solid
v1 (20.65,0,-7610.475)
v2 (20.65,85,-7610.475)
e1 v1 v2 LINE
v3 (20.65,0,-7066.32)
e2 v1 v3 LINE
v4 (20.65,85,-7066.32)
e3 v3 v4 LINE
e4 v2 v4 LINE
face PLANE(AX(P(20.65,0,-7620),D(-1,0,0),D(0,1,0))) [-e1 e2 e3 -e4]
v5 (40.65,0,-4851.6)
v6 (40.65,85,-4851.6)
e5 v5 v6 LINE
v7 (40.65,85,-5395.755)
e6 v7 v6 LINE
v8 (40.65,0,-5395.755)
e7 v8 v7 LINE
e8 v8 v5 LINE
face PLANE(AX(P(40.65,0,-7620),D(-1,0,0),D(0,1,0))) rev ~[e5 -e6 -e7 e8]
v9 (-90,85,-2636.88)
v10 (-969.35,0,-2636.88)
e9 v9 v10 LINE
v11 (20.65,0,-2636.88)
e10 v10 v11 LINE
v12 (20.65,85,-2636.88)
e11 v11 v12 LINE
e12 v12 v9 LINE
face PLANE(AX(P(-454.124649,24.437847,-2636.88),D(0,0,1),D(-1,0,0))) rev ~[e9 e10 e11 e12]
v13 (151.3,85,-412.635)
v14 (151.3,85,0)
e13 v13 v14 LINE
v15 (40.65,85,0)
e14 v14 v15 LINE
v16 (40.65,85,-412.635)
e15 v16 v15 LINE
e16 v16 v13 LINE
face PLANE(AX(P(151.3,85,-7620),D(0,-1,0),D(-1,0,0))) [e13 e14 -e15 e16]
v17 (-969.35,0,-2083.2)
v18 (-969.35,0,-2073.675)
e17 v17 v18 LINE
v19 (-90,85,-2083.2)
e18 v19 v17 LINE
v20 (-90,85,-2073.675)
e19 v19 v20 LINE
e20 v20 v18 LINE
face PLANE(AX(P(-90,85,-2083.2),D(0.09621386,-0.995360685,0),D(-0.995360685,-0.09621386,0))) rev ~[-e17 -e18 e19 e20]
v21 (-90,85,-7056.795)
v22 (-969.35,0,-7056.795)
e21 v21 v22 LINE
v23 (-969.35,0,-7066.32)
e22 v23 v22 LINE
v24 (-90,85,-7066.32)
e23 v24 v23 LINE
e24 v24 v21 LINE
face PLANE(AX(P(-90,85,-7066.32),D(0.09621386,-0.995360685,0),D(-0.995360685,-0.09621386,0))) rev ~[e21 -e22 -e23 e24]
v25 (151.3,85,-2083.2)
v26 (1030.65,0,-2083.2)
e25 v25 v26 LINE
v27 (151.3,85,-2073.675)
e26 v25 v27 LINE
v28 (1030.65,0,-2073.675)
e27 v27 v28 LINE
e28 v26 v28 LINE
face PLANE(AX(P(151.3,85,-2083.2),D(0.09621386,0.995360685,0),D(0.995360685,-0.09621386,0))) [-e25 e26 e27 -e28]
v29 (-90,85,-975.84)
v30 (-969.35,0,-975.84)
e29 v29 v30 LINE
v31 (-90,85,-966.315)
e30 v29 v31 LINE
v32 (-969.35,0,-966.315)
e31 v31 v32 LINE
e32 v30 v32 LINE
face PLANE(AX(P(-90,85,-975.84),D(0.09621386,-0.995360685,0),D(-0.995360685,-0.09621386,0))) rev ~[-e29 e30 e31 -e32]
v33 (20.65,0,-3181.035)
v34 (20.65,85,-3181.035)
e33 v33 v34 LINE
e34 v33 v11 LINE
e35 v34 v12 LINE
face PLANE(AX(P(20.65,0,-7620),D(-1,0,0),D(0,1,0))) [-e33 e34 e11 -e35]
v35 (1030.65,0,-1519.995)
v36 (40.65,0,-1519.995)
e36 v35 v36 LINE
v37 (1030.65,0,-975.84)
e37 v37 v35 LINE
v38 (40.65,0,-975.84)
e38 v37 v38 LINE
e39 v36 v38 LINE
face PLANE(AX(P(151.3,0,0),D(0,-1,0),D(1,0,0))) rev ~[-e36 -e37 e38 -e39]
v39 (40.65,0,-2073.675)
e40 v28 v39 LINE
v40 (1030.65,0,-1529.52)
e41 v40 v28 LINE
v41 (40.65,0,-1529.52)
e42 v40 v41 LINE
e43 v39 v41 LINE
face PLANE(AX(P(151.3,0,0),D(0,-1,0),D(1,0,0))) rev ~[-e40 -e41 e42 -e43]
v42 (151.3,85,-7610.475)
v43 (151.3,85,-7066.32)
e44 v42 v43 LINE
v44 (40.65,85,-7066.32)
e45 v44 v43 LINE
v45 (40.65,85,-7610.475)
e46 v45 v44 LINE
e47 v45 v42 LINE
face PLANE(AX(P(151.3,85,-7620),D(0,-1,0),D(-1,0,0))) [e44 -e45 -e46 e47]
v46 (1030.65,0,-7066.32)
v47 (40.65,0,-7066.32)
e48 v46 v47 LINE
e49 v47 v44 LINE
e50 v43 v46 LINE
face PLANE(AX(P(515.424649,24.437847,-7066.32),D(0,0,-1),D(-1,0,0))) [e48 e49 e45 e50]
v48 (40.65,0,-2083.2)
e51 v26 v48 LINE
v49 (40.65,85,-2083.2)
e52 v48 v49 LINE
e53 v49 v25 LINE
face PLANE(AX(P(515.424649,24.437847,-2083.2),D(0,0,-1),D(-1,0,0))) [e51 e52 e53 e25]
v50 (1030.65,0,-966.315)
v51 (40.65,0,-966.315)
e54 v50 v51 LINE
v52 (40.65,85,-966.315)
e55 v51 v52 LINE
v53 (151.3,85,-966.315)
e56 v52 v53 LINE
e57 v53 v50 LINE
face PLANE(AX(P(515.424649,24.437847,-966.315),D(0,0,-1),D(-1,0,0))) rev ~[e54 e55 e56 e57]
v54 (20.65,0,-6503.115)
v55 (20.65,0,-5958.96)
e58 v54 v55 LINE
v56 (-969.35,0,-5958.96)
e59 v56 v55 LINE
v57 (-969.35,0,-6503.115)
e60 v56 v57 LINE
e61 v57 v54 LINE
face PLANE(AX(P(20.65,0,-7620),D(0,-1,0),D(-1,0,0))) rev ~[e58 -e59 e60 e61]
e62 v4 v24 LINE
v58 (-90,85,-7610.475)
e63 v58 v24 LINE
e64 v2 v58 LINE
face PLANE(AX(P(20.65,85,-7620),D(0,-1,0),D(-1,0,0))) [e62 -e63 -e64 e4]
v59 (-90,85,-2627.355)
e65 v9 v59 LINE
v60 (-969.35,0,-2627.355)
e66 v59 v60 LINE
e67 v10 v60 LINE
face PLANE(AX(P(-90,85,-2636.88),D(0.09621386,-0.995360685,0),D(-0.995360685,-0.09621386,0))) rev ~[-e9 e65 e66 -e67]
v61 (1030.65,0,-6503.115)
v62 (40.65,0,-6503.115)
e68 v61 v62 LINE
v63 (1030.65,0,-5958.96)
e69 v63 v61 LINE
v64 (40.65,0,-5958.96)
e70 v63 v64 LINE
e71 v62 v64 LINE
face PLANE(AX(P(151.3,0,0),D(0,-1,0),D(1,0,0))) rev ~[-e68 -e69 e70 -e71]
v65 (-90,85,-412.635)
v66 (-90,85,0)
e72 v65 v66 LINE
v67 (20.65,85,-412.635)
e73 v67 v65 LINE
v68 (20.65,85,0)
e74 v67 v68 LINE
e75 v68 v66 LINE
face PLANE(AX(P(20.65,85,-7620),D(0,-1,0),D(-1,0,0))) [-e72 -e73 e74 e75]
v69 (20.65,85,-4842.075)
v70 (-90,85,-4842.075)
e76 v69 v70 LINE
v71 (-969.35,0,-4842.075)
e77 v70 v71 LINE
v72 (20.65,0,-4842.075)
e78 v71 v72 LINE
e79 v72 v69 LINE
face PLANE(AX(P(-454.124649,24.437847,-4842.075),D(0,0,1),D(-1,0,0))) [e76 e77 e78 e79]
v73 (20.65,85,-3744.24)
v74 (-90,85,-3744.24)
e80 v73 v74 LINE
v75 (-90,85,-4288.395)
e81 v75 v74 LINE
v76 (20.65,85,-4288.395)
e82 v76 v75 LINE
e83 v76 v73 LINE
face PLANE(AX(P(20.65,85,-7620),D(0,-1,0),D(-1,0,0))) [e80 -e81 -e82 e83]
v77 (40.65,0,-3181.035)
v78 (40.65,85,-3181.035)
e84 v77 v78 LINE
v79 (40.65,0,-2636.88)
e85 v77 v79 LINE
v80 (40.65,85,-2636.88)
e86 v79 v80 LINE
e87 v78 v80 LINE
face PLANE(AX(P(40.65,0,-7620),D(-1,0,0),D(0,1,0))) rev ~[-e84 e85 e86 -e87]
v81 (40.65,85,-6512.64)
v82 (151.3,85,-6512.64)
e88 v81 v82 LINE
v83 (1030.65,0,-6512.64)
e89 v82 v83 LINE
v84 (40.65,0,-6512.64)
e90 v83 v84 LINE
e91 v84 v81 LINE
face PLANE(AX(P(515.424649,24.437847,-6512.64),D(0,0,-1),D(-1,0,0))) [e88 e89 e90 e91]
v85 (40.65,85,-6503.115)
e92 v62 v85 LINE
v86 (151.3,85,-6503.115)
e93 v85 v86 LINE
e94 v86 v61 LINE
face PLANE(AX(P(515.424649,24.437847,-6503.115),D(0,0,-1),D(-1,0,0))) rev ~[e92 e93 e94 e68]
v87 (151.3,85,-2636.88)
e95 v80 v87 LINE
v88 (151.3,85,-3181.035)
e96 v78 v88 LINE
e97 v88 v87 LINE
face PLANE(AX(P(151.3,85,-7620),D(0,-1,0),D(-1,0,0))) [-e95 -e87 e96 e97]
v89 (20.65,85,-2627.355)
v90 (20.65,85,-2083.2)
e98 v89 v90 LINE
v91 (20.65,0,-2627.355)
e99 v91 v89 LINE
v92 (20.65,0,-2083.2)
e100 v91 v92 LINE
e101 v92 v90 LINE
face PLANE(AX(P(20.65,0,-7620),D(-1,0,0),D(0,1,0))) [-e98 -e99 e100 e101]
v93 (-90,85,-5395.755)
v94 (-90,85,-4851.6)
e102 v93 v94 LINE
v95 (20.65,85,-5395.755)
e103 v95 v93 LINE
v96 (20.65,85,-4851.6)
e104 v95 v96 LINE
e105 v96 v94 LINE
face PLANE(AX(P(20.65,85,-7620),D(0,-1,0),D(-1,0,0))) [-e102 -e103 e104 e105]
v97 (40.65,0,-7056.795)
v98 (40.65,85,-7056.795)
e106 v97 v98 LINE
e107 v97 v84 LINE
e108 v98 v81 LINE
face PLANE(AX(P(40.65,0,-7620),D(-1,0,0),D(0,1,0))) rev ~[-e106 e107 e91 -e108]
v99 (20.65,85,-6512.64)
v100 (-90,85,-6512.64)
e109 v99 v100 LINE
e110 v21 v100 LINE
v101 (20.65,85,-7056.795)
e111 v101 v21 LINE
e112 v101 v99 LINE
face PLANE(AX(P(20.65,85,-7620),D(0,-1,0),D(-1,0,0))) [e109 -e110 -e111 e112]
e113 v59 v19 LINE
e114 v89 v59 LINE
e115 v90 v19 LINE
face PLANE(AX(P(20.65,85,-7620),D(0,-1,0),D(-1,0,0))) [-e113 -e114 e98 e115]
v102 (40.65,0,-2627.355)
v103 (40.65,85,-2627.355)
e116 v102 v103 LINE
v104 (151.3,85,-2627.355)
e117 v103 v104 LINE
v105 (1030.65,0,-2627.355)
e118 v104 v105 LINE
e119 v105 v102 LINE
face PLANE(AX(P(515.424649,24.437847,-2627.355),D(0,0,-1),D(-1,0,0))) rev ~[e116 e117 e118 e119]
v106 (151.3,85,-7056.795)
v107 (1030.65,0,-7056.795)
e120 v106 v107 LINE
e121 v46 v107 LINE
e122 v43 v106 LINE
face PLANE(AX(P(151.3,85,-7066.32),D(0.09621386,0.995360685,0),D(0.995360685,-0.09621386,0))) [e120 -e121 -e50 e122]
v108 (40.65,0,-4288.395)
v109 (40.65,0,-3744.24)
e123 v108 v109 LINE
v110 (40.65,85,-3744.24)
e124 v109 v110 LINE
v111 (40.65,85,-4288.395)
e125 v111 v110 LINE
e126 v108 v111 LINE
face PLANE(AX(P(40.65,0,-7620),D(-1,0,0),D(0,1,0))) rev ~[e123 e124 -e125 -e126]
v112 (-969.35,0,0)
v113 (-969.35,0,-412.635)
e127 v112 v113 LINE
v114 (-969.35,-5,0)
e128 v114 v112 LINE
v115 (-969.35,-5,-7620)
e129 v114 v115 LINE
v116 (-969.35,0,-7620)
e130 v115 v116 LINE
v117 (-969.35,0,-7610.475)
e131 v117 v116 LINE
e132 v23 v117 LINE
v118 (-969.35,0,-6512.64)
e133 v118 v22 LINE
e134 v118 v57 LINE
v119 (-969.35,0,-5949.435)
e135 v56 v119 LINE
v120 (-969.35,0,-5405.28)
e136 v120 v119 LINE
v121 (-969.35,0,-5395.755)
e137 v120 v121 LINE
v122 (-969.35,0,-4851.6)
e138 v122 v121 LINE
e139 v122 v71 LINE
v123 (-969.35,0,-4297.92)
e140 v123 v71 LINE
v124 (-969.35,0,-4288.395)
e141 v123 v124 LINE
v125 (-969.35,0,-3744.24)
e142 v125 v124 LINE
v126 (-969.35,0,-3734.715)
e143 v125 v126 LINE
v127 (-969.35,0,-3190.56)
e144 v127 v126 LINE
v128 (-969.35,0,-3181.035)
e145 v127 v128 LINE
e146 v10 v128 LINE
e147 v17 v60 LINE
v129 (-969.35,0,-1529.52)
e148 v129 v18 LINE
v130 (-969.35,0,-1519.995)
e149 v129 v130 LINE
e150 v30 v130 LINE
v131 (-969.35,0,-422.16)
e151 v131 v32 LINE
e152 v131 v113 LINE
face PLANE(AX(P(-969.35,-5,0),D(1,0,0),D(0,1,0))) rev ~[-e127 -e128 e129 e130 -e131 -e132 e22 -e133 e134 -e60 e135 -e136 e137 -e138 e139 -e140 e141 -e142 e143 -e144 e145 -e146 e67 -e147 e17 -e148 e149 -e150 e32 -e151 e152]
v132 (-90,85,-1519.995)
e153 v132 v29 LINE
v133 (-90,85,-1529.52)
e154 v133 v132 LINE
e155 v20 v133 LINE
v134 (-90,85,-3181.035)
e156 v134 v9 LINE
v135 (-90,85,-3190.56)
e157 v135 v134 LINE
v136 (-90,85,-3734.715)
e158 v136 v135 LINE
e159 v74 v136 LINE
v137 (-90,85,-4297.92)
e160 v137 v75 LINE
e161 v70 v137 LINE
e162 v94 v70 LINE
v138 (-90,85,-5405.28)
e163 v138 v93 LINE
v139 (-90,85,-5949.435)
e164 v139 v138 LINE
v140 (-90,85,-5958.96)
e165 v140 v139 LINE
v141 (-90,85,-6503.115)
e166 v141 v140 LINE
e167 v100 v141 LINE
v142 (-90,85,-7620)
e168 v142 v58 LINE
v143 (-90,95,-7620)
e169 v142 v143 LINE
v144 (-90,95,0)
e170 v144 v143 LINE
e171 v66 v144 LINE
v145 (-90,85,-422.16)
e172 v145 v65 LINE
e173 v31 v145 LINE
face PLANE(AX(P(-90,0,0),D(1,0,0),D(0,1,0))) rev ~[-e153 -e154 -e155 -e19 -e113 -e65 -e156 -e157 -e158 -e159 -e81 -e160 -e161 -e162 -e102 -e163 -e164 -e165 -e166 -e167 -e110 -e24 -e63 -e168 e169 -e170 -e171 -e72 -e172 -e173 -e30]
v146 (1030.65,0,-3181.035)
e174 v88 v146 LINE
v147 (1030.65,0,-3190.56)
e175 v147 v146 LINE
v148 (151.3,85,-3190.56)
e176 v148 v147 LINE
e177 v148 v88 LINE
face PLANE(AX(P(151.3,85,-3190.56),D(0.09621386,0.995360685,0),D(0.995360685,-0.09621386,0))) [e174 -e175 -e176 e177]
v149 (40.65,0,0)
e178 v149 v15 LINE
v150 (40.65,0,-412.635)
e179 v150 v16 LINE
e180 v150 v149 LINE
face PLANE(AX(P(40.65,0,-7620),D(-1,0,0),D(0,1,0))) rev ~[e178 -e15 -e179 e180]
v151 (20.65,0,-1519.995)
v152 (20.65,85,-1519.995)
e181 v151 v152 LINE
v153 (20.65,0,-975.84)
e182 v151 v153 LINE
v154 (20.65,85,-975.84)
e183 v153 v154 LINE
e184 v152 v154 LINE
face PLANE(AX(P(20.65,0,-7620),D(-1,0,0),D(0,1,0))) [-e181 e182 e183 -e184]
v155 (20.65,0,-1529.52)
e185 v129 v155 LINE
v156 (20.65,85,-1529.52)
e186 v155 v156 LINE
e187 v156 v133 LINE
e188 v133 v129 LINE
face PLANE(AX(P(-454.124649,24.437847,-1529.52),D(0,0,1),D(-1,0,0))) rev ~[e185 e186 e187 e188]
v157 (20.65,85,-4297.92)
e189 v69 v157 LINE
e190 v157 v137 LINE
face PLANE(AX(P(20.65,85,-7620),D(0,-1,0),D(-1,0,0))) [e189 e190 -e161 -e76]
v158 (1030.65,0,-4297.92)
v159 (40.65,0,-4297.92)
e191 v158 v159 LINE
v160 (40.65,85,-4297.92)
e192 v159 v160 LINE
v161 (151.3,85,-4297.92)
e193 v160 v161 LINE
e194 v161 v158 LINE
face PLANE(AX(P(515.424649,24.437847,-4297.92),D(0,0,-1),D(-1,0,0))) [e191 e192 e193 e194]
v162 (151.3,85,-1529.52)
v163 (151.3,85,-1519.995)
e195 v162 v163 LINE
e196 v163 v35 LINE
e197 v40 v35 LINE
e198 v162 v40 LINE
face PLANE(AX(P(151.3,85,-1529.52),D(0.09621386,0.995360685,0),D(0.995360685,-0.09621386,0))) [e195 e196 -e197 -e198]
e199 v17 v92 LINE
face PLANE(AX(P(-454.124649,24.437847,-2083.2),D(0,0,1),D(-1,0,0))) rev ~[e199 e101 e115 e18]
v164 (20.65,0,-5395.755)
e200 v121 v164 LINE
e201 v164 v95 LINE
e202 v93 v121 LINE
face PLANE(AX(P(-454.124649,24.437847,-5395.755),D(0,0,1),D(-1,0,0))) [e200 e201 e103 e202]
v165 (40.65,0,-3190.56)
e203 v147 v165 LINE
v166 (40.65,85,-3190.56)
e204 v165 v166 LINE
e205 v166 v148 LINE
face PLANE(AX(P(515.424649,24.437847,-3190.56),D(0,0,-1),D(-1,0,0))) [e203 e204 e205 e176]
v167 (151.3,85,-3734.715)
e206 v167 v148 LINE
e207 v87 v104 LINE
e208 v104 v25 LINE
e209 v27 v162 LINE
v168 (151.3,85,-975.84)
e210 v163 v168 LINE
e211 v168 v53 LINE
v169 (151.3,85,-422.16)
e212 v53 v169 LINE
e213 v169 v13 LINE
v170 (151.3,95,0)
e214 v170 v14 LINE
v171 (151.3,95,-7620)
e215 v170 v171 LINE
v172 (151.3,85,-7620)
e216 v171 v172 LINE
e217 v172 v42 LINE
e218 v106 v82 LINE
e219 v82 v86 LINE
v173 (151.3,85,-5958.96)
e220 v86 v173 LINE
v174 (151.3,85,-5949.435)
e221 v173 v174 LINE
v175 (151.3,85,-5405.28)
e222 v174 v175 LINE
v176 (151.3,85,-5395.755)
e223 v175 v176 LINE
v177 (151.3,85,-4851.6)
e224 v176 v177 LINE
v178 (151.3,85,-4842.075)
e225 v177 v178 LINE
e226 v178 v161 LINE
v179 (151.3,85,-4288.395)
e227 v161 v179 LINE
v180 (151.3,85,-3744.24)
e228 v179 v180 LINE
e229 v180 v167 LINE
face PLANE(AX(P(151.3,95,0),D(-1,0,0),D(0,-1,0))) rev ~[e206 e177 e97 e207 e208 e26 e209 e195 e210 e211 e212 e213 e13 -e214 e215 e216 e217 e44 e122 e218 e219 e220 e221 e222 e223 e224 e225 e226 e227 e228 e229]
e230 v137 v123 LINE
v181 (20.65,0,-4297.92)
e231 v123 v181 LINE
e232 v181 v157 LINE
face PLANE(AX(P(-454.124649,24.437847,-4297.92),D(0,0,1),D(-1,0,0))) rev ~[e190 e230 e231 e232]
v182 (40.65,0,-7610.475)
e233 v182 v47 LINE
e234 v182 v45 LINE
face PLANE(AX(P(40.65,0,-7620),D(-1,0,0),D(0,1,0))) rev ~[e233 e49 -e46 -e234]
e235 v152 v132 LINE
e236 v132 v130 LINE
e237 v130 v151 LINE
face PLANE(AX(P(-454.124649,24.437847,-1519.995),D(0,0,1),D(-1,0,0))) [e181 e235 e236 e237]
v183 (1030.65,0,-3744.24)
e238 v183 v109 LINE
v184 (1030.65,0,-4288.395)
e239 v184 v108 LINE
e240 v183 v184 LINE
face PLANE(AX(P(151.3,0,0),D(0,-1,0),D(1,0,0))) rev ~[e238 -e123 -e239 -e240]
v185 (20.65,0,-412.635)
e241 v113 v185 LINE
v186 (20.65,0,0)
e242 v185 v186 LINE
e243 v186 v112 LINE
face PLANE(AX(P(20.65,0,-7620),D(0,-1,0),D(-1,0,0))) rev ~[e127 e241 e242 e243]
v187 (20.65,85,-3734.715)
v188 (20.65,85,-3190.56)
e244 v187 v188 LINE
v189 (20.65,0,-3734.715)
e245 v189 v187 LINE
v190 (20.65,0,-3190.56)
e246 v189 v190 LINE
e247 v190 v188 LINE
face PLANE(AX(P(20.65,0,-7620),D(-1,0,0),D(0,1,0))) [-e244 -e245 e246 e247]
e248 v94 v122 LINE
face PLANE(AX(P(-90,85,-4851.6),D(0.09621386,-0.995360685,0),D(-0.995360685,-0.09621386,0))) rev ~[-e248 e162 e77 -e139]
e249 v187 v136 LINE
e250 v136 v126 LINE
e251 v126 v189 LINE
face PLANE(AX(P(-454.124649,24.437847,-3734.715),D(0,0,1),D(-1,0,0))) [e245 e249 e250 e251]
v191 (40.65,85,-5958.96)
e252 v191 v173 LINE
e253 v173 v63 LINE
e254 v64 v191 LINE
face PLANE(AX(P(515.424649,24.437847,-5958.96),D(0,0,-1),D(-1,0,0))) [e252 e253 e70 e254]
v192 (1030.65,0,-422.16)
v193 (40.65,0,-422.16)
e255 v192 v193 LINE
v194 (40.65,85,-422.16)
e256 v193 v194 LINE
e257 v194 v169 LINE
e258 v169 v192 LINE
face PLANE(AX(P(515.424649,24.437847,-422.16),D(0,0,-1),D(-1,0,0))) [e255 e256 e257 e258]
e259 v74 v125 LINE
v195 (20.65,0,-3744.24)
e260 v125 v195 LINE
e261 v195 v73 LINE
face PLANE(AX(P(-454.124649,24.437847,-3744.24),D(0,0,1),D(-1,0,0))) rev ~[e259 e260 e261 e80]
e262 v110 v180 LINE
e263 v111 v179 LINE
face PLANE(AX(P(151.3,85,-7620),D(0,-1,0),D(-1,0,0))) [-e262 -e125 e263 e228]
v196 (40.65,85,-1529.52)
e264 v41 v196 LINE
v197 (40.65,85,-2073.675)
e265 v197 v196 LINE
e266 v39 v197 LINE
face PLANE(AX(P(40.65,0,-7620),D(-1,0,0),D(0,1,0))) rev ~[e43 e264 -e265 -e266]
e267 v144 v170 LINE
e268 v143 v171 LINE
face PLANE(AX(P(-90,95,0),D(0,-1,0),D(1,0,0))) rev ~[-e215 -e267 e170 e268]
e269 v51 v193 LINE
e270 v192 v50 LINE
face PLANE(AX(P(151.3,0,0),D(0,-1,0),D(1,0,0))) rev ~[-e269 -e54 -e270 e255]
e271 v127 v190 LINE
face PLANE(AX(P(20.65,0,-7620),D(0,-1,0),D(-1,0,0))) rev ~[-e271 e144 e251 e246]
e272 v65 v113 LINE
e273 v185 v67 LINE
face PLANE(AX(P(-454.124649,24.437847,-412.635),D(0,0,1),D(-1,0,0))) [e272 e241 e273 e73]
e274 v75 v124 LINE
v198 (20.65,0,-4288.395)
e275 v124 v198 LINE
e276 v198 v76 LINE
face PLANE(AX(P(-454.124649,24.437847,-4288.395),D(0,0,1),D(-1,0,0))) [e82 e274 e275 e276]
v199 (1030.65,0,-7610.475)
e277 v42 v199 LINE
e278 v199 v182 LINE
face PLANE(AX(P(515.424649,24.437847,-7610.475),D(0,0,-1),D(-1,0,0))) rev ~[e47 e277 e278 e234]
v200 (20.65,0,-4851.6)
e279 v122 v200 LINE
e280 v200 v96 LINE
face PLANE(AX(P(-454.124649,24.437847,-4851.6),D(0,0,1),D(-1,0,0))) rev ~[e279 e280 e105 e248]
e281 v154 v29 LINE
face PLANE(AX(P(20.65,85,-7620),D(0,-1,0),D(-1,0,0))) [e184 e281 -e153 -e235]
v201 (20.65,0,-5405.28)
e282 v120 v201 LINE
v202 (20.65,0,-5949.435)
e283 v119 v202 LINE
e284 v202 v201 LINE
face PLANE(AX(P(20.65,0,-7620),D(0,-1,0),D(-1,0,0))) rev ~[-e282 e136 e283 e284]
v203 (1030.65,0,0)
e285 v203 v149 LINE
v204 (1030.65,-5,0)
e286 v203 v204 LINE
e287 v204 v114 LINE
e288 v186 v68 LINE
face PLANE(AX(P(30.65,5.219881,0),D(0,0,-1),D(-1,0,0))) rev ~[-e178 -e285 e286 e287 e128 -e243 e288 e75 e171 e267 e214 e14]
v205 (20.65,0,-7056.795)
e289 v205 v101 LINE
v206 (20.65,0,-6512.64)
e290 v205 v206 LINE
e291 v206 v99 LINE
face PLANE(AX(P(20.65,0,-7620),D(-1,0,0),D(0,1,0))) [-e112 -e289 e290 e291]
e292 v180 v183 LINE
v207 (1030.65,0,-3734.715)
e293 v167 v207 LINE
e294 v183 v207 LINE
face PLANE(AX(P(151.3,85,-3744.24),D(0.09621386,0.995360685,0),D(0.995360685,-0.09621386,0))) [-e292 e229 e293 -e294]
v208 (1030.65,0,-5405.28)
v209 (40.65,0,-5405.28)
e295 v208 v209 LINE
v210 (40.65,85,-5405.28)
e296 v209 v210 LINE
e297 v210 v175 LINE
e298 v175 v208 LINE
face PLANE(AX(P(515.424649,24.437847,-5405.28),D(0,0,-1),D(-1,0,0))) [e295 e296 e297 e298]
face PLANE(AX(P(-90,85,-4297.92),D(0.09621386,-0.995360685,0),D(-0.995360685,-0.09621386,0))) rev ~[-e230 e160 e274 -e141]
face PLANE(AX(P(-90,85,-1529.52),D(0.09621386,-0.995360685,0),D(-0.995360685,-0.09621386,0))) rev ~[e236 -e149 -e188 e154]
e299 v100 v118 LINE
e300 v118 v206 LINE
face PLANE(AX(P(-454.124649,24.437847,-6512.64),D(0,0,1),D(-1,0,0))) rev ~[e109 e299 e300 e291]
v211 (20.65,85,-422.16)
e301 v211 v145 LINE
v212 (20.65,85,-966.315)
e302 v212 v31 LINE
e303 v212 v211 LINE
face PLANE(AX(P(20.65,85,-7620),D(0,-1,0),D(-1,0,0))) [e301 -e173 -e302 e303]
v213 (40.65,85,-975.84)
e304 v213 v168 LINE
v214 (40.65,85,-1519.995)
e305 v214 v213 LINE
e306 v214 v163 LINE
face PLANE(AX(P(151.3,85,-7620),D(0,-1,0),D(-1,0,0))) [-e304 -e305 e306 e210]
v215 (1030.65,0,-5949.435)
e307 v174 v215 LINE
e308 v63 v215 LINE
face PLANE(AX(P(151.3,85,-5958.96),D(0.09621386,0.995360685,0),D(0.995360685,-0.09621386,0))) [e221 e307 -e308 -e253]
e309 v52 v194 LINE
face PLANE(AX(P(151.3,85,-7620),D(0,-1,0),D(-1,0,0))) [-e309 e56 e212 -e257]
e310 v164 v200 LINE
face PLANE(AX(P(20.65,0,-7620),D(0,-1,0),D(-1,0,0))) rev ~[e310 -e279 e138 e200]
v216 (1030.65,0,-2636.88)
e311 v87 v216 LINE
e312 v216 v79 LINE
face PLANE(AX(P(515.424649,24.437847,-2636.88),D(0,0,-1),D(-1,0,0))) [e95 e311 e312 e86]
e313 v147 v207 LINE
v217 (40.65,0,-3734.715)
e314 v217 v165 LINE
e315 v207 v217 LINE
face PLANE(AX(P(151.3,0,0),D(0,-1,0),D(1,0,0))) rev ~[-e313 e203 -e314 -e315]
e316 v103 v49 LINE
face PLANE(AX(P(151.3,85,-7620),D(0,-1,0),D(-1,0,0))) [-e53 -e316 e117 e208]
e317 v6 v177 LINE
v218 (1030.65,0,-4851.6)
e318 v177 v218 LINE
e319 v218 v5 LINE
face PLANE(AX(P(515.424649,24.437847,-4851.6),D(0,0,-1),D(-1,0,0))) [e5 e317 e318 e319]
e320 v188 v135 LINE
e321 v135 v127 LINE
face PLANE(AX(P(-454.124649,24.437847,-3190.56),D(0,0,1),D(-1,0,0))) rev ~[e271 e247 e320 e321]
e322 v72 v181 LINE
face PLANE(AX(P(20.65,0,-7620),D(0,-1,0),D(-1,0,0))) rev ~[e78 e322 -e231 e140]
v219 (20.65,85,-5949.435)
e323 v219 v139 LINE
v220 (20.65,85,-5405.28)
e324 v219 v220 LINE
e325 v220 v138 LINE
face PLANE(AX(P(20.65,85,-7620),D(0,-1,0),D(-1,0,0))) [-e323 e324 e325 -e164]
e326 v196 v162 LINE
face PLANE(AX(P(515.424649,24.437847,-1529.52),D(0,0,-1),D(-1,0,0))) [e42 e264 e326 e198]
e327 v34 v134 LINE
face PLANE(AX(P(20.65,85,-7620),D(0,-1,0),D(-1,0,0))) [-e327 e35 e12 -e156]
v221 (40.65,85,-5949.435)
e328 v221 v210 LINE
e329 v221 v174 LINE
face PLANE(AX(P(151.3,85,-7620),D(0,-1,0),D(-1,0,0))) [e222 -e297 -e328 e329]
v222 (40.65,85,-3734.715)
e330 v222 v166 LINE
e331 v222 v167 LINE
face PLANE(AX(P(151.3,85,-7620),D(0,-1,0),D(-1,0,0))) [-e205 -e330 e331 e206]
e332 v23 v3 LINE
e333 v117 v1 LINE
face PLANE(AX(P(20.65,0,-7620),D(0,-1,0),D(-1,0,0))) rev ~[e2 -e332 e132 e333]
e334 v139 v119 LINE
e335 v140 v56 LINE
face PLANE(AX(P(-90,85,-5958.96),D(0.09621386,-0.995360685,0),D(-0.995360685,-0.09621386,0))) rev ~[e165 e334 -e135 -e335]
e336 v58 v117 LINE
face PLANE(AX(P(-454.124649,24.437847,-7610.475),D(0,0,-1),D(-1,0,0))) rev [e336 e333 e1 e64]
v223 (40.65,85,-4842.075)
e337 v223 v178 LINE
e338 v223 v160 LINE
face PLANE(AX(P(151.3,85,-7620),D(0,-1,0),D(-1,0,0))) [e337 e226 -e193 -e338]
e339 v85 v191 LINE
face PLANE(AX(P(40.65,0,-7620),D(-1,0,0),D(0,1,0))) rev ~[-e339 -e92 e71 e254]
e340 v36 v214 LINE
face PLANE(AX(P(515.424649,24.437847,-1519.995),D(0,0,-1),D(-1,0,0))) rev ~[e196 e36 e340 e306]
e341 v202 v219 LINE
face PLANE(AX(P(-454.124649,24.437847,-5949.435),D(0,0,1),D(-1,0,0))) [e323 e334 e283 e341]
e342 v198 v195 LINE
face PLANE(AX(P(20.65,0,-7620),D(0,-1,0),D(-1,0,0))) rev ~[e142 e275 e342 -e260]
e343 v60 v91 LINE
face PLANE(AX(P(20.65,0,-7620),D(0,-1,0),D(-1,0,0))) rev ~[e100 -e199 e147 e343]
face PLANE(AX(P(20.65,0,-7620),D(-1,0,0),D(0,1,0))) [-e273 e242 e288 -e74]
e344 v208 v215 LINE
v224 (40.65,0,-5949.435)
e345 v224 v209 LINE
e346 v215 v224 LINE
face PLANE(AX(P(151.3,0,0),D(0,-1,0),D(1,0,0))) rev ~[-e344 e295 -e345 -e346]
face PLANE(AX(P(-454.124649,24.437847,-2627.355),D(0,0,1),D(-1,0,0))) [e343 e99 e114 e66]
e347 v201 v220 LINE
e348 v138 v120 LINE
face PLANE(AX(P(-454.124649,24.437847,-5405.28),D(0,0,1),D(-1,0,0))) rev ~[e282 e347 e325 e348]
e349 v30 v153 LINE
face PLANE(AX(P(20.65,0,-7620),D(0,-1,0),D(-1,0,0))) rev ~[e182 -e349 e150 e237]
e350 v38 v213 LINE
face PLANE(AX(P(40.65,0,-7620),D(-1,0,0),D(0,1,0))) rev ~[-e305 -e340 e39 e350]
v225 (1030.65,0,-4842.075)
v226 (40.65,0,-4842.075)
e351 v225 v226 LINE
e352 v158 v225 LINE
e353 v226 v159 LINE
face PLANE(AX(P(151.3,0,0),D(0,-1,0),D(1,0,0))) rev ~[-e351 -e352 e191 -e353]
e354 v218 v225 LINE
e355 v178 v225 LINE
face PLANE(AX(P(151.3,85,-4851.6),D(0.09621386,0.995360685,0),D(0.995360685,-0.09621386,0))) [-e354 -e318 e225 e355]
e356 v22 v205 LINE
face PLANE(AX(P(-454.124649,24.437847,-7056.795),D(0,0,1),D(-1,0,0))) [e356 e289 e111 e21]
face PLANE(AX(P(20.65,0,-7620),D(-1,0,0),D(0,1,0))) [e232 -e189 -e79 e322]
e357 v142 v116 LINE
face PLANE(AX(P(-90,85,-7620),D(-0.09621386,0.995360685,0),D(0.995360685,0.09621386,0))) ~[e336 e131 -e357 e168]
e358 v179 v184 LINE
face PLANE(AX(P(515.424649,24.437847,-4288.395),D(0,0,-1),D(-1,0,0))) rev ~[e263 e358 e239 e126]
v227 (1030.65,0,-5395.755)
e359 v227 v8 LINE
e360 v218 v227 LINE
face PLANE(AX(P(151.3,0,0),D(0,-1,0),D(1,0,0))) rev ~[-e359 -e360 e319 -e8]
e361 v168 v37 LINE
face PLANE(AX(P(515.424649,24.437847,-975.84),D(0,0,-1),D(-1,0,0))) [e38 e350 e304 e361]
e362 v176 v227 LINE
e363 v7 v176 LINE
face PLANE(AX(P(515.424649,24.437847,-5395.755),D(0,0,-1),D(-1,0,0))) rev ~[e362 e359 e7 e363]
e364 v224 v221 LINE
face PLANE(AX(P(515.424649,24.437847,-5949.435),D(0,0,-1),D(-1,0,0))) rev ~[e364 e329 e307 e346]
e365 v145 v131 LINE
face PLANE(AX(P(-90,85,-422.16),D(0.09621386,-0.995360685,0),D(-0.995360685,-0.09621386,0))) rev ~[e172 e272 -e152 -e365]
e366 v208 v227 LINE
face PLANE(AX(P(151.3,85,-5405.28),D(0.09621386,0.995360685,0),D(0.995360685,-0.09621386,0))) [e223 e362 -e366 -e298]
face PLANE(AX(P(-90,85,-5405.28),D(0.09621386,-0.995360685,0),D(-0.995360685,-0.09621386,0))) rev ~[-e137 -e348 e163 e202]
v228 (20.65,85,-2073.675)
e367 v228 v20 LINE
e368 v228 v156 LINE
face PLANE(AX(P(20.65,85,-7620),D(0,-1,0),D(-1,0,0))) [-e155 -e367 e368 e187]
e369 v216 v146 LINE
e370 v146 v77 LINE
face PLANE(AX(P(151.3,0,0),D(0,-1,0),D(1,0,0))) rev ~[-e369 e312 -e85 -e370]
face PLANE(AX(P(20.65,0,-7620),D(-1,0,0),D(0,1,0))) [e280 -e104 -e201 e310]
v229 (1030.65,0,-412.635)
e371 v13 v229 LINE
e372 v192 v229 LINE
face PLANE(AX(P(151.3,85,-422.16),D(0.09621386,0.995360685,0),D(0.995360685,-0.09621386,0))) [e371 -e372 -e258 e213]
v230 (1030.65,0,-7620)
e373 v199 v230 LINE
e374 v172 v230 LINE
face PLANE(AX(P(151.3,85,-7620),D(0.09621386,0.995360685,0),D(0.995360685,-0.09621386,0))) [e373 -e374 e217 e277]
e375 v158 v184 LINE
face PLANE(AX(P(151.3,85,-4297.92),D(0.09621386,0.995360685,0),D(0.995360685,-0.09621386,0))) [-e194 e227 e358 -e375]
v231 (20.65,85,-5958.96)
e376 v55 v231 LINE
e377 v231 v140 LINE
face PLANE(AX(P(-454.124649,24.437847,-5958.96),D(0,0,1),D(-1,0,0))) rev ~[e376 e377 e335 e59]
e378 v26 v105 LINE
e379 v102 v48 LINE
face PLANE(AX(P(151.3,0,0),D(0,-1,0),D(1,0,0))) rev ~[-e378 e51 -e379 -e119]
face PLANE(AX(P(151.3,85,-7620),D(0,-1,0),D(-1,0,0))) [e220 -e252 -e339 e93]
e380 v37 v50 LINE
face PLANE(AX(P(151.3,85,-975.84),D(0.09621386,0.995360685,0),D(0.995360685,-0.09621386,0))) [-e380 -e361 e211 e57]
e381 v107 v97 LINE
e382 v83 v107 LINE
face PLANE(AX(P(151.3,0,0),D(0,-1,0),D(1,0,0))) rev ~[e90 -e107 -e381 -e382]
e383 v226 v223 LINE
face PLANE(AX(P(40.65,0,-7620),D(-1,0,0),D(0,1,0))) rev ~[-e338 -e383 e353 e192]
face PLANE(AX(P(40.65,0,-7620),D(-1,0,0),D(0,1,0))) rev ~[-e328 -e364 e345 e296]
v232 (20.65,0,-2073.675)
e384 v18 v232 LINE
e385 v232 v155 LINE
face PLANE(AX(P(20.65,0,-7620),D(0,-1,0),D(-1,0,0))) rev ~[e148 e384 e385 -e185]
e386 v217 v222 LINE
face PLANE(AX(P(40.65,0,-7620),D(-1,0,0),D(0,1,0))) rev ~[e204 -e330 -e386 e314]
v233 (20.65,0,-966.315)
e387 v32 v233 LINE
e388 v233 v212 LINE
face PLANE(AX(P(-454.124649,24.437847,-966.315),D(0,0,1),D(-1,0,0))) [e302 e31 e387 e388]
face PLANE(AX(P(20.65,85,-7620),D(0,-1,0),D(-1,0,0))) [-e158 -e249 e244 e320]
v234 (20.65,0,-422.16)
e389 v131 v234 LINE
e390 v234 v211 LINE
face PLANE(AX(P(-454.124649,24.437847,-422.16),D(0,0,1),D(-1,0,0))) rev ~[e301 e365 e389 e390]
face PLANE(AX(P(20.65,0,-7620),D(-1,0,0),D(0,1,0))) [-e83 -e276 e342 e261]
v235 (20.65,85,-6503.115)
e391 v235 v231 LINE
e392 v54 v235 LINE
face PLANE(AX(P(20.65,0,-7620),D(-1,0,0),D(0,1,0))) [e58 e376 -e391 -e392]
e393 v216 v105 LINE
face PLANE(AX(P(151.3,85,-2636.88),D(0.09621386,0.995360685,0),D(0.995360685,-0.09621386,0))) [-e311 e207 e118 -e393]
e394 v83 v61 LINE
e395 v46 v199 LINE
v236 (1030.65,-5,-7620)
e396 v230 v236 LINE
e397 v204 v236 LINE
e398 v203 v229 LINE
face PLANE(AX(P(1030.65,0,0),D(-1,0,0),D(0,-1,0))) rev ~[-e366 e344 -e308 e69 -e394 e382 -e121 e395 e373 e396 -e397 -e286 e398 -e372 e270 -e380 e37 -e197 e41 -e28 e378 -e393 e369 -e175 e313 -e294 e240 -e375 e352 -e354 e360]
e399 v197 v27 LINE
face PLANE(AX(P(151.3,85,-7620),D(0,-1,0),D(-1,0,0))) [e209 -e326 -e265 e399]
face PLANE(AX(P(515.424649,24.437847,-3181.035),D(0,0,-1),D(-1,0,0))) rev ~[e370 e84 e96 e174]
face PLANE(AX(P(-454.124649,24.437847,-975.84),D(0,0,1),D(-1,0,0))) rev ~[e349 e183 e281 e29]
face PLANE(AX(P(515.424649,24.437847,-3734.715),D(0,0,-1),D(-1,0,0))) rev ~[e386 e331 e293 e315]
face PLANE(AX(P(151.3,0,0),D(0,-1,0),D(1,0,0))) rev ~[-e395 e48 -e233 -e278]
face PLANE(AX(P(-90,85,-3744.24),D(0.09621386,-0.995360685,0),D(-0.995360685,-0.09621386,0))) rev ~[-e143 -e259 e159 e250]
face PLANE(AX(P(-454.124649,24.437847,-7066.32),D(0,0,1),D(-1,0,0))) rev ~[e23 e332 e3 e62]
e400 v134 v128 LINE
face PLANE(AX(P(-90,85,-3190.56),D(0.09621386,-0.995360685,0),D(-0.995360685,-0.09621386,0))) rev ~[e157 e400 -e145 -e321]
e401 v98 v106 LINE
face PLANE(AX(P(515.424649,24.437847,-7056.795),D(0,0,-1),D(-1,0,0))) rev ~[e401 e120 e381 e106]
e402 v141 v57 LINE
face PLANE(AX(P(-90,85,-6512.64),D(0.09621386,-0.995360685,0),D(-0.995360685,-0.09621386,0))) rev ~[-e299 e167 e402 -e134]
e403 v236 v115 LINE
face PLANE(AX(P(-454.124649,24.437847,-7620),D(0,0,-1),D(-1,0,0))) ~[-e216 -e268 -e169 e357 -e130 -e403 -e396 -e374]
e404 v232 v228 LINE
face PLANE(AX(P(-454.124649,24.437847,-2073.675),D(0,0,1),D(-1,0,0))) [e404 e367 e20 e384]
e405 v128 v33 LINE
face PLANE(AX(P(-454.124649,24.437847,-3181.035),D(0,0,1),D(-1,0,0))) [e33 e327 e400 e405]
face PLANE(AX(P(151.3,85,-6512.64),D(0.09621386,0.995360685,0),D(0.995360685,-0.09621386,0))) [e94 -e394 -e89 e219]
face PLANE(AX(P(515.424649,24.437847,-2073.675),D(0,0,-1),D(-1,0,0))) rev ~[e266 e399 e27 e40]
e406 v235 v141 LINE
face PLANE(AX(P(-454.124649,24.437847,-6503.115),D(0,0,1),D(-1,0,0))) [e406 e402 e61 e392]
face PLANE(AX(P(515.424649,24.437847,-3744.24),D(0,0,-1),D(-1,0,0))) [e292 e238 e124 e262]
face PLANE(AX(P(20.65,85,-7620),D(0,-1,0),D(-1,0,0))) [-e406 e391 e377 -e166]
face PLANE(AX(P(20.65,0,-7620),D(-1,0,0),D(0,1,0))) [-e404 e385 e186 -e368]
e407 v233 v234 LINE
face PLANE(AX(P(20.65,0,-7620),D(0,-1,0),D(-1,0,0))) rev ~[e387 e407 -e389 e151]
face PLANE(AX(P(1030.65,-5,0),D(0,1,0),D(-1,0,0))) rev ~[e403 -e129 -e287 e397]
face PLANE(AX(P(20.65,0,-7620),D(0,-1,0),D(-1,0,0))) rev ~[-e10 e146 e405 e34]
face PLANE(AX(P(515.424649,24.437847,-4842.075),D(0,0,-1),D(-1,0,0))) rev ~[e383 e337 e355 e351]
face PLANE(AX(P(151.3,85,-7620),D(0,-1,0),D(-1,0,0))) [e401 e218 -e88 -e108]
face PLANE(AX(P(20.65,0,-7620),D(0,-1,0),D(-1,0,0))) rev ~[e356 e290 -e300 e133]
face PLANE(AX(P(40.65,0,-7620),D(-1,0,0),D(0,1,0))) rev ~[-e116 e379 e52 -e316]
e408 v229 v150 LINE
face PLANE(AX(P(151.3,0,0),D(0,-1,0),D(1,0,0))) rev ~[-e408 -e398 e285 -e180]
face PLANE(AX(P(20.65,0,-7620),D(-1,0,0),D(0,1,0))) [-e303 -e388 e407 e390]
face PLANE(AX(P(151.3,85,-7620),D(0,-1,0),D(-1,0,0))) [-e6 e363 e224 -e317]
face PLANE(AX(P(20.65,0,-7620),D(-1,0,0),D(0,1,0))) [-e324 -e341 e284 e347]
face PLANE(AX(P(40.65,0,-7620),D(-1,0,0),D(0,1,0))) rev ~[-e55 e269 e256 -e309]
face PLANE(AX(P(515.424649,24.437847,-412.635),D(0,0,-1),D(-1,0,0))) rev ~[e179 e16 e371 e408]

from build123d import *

# Parameters (mm, degrees)
BOSS_EXTRUDE1_DEPTH   = 7620
SKETCH7_W             = 110.65
SKETCH7_H             = 85
CUT_EXTRUDE3_DEPTH    = 7690.971678914
BOSS_EXTRUDE3_DEPTH   = 9.525
LPATTERN2_COUNT       = 14
LPATTERN2_PITCH       = 553.68
MIRROR2_COPY_1_DEPTH  = 9.525
MIRROR2_COPY_2_DEPTH  = 9.525
MIRROR2_COPY_3_DEPTH  = 9.525
MIRROR2_COPY_4_DEPTH  = 9.525
MIRROR2_COPY_5_DEPTH  = 9.525
MIRROR2_COPY_6_DEPTH  = 9.525
MIRROR2_COPY_7_DEPTH  = 9.525
MIRROR2_COPY_8_DEPTH  = 9.525
MIRROR2_COPY_9_DEPTH  = 9.525
MIRROR2_COPY_10_DEPTH = 9.525
MIRROR2_COPY_11_DEPTH = 9.525
MIRROR2_COPY_12_DEPTH = 9.525
MIRROR2_COPY_13_DEPTH = 9.525


with BuildPart() as part:
    # Sketch1 → Boss-Extrude1 (new body)
    with BuildSketch(Plane.XY):
        Polygon((-90, 95), (151.3, 95), (151.3, 0), (1030.65, 0), (1030.65, -5), (-969.35, -5), (-969.35, 0), (-90, 0), align=None)
    extrude(amount=-BOSS_EXTRUDE1_DEPTH)

    # Sketch7 → Cut-Extrude3 (cut, through all)
    with BuildSketch(Plane(origin=(0, 0, -7620), x_dir=(-1, 0, 0), z_dir=(0, 0, -1))):
        with Locations((-95.975, 42.5)):
            Rectangle(SKETCH7_W, SKETCH7_H)
        with Locations((34.675, 42.5)):
            Rectangle(SKETCH7_W, SKETCH7_H)
    extrude(amount=-CUT_EXTRUDE3_DEPTH, mode=Mode.SUBTRACT)

    # Sketch8 → Boss-Extrude3 (add)
    with BuildSketch(Plane(origin=(0, 0, -7620), x_dir=(-1, 0, 0), z_dir=(0, 0, -1))):
        Polygon((-40.65, 0), (-40.65, 85), (-151.3, 85), (-1030.65, 0), align=None)
    boss_extrude3 = extrude(amount=-BOSS_EXTRUDE3_DEPTH)

    # LPattern2: Boss-Extrude3 ×14
    with Locations(*[(0, 0, i * LPATTERN2_PITCH) for i in range(1, LPATTERN2_COUNT)]):
        add(boss_extrude3)

    # Mirror2: Boss-Extrude3 across plane
    add(boss_extrude3.mirror(Plane(origin=(30.65, 0, 0), x_dir=(0, 0, 1), z_dir=(1, 0, 0))))

    # Mirror2 copy 1 sketch → Mirror2 copy 1 (add)
    with BuildSketch(Plane(origin=(61.3, 0, -7066.32), x_dir=(1, 0, 0), z_dir=(0, 0, -1))):
        Polygon((-40.65, 0), (-40.65, -85), (-151.3, -85), (-1030.65, 0), align=None)
    extrude(amount=-MIRROR2_COPY_1_DEPTH)

    # Mirror2 copy 2 sketch → Mirror2 copy 2 (add)
    with BuildSketch(Plane(origin=(61.3, 0, -6512.64), x_dir=(1, 0, 0), z_dir=(0, 0, -1))):
        Polygon((-40.65, 0), (-40.65, -85), (-151.3, -85), (-1030.65, 0), align=None)
    extrude(amount=-MIRROR2_COPY_2_DEPTH)

    # Mirror2 copy 3 sketch → Mirror2 copy 3 (add)
    with BuildSketch(Plane(origin=(61.3, 0, -5958.96), x_dir=(1, 0, 0), z_dir=(0, 0, -1))):
        Polygon((-40.65, 0), (-40.65, -85), (-151.3, -85), (-1030.65, 0), align=None)
    extrude(amount=-MIRROR2_COPY_3_DEPTH)

    # Mirror2 copy 4 sketch → Mirror2 copy 4 (add)
    with BuildSketch(Plane(origin=(61.3, 0, -5405.28), x_dir=(1, 0, 0), z_dir=(0, 0, -1))):
        Polygon((-40.65, 0), (-40.65, -85), (-151.3, -85), (-1030.65, 0), align=None)
    extrude(amount=-MIRROR2_COPY_4_DEPTH)

    # Mirror2 copy 5 sketch → Mirror2 copy 5 (add)
    with BuildSketch(Plane(origin=(61.3, 0, -4851.6), x_dir=(1, 0, 0), z_dir=(0, 0, -1))):
        Polygon((-40.65, 0), (-40.65, -85), (-151.3, -85), (-1030.65, 0), align=None)
    extrude(amount=-MIRROR2_COPY_5_DEPTH)

    # Mirror2 copy 6 sketch → Mirror2 copy 6 (add)
    with BuildSketch(Plane(origin=(61.3, 0, -4297.92), x_dir=(1, 0, 0), z_dir=(0, 0, -1))):
        Polygon((-40.65, 0), (-40.65, -85), (-151.3, -85), (-1030.65, 0), align=None)
    extrude(amount=-MIRROR2_COPY_6_DEPTH)

    # Mirror2 copy 7 sketch → Mirror2 copy 7 (add)
    with BuildSketch(Plane(origin=(61.3, 0, -3744.24), x_dir=(1, 0, 0), z_dir=(0, 0, -1))):
        Polygon((-40.65, 0), (-40.65, -85), (-151.3, -85), (-1030.65, 0), align=None)
    extrude(amount=-MIRROR2_COPY_7_DEPTH)

    # Mirror2 copy 8 sketch → Mirror2 copy 8 (add)
    with BuildSketch(Plane(origin=(61.3, 0, -3190.56), x_dir=(1, 0, 0), z_dir=(0, 0, -1))):
        Polygon((-40.65, 0), (-40.65, -85), (-151.3, -85), (-1030.65, 0), align=None)
    extrude(amount=-MIRROR2_COPY_8_DEPTH)

    # Mirror2 copy 9 sketch → Mirror2 copy 9 (add)
    with BuildSketch(Plane(origin=(61.3, 0, -2636.88), x_dir=(1, 0, 0), z_dir=(0, 0, -1))):
        Polygon((-40.65, 0), (-40.65, -85), (-151.3, -85), (-1030.65, 0), align=None)
    extrude(amount=-MIRROR2_COPY_9_DEPTH)

    # Mirror2 copy 10 sketch → Mirror2 copy 10 (add)
    with BuildSketch(Plane(origin=(61.3, 0, -2083.2), x_dir=(1, 0, 0), z_dir=(0, 0, -1))):
        Polygon((-40.65, 0), (-40.65, -85), (-151.3, -85), (-1030.65, 0), align=None)
    extrude(amount=-MIRROR2_COPY_10_DEPTH)

    # Mirror2 copy 11 sketch → Mirror2 copy 11 (add)
    with BuildSketch(Plane(origin=(61.3, 0, -1529.52), x_dir=(1, 0, 0), z_dir=(0, 0, -1))):
        Polygon((-40.65, 0), (-40.65, -85), (-151.3, -85), (-1030.65, 0), align=None)
    extrude(amount=-MIRROR2_COPY_11_DEPTH)

    # Mirror2 copy 12 sketch → Mirror2 copy 12 (add)
    with BuildSketch(Plane(origin=(61.3, 0, -975.84), x_dir=(1, 0, 0), z_dir=(0, 0, -1))):
        Polygon((-40.65, 0), (-40.65, -85), (-151.3, -85), (-1030.65, 0), align=None)
    extrude(amount=-MIRROR2_COPY_12_DEPTH)

    # Mirror2 copy 13 sketch → Mirror2 copy 13 (add)
    with BuildSketch(Plane(origin=(61.3, 0, -422.16), x_dir=(1, 0, 0), z_dir=(0, 0, -1))):
        Polygon((-40.65, 0), (-40.65, -85), (-151.3, -85), (-1030.65, 0), align=None)
    extrude(amount=-MIRROR2_COPY_13_DEPTH)


solid = part.part
